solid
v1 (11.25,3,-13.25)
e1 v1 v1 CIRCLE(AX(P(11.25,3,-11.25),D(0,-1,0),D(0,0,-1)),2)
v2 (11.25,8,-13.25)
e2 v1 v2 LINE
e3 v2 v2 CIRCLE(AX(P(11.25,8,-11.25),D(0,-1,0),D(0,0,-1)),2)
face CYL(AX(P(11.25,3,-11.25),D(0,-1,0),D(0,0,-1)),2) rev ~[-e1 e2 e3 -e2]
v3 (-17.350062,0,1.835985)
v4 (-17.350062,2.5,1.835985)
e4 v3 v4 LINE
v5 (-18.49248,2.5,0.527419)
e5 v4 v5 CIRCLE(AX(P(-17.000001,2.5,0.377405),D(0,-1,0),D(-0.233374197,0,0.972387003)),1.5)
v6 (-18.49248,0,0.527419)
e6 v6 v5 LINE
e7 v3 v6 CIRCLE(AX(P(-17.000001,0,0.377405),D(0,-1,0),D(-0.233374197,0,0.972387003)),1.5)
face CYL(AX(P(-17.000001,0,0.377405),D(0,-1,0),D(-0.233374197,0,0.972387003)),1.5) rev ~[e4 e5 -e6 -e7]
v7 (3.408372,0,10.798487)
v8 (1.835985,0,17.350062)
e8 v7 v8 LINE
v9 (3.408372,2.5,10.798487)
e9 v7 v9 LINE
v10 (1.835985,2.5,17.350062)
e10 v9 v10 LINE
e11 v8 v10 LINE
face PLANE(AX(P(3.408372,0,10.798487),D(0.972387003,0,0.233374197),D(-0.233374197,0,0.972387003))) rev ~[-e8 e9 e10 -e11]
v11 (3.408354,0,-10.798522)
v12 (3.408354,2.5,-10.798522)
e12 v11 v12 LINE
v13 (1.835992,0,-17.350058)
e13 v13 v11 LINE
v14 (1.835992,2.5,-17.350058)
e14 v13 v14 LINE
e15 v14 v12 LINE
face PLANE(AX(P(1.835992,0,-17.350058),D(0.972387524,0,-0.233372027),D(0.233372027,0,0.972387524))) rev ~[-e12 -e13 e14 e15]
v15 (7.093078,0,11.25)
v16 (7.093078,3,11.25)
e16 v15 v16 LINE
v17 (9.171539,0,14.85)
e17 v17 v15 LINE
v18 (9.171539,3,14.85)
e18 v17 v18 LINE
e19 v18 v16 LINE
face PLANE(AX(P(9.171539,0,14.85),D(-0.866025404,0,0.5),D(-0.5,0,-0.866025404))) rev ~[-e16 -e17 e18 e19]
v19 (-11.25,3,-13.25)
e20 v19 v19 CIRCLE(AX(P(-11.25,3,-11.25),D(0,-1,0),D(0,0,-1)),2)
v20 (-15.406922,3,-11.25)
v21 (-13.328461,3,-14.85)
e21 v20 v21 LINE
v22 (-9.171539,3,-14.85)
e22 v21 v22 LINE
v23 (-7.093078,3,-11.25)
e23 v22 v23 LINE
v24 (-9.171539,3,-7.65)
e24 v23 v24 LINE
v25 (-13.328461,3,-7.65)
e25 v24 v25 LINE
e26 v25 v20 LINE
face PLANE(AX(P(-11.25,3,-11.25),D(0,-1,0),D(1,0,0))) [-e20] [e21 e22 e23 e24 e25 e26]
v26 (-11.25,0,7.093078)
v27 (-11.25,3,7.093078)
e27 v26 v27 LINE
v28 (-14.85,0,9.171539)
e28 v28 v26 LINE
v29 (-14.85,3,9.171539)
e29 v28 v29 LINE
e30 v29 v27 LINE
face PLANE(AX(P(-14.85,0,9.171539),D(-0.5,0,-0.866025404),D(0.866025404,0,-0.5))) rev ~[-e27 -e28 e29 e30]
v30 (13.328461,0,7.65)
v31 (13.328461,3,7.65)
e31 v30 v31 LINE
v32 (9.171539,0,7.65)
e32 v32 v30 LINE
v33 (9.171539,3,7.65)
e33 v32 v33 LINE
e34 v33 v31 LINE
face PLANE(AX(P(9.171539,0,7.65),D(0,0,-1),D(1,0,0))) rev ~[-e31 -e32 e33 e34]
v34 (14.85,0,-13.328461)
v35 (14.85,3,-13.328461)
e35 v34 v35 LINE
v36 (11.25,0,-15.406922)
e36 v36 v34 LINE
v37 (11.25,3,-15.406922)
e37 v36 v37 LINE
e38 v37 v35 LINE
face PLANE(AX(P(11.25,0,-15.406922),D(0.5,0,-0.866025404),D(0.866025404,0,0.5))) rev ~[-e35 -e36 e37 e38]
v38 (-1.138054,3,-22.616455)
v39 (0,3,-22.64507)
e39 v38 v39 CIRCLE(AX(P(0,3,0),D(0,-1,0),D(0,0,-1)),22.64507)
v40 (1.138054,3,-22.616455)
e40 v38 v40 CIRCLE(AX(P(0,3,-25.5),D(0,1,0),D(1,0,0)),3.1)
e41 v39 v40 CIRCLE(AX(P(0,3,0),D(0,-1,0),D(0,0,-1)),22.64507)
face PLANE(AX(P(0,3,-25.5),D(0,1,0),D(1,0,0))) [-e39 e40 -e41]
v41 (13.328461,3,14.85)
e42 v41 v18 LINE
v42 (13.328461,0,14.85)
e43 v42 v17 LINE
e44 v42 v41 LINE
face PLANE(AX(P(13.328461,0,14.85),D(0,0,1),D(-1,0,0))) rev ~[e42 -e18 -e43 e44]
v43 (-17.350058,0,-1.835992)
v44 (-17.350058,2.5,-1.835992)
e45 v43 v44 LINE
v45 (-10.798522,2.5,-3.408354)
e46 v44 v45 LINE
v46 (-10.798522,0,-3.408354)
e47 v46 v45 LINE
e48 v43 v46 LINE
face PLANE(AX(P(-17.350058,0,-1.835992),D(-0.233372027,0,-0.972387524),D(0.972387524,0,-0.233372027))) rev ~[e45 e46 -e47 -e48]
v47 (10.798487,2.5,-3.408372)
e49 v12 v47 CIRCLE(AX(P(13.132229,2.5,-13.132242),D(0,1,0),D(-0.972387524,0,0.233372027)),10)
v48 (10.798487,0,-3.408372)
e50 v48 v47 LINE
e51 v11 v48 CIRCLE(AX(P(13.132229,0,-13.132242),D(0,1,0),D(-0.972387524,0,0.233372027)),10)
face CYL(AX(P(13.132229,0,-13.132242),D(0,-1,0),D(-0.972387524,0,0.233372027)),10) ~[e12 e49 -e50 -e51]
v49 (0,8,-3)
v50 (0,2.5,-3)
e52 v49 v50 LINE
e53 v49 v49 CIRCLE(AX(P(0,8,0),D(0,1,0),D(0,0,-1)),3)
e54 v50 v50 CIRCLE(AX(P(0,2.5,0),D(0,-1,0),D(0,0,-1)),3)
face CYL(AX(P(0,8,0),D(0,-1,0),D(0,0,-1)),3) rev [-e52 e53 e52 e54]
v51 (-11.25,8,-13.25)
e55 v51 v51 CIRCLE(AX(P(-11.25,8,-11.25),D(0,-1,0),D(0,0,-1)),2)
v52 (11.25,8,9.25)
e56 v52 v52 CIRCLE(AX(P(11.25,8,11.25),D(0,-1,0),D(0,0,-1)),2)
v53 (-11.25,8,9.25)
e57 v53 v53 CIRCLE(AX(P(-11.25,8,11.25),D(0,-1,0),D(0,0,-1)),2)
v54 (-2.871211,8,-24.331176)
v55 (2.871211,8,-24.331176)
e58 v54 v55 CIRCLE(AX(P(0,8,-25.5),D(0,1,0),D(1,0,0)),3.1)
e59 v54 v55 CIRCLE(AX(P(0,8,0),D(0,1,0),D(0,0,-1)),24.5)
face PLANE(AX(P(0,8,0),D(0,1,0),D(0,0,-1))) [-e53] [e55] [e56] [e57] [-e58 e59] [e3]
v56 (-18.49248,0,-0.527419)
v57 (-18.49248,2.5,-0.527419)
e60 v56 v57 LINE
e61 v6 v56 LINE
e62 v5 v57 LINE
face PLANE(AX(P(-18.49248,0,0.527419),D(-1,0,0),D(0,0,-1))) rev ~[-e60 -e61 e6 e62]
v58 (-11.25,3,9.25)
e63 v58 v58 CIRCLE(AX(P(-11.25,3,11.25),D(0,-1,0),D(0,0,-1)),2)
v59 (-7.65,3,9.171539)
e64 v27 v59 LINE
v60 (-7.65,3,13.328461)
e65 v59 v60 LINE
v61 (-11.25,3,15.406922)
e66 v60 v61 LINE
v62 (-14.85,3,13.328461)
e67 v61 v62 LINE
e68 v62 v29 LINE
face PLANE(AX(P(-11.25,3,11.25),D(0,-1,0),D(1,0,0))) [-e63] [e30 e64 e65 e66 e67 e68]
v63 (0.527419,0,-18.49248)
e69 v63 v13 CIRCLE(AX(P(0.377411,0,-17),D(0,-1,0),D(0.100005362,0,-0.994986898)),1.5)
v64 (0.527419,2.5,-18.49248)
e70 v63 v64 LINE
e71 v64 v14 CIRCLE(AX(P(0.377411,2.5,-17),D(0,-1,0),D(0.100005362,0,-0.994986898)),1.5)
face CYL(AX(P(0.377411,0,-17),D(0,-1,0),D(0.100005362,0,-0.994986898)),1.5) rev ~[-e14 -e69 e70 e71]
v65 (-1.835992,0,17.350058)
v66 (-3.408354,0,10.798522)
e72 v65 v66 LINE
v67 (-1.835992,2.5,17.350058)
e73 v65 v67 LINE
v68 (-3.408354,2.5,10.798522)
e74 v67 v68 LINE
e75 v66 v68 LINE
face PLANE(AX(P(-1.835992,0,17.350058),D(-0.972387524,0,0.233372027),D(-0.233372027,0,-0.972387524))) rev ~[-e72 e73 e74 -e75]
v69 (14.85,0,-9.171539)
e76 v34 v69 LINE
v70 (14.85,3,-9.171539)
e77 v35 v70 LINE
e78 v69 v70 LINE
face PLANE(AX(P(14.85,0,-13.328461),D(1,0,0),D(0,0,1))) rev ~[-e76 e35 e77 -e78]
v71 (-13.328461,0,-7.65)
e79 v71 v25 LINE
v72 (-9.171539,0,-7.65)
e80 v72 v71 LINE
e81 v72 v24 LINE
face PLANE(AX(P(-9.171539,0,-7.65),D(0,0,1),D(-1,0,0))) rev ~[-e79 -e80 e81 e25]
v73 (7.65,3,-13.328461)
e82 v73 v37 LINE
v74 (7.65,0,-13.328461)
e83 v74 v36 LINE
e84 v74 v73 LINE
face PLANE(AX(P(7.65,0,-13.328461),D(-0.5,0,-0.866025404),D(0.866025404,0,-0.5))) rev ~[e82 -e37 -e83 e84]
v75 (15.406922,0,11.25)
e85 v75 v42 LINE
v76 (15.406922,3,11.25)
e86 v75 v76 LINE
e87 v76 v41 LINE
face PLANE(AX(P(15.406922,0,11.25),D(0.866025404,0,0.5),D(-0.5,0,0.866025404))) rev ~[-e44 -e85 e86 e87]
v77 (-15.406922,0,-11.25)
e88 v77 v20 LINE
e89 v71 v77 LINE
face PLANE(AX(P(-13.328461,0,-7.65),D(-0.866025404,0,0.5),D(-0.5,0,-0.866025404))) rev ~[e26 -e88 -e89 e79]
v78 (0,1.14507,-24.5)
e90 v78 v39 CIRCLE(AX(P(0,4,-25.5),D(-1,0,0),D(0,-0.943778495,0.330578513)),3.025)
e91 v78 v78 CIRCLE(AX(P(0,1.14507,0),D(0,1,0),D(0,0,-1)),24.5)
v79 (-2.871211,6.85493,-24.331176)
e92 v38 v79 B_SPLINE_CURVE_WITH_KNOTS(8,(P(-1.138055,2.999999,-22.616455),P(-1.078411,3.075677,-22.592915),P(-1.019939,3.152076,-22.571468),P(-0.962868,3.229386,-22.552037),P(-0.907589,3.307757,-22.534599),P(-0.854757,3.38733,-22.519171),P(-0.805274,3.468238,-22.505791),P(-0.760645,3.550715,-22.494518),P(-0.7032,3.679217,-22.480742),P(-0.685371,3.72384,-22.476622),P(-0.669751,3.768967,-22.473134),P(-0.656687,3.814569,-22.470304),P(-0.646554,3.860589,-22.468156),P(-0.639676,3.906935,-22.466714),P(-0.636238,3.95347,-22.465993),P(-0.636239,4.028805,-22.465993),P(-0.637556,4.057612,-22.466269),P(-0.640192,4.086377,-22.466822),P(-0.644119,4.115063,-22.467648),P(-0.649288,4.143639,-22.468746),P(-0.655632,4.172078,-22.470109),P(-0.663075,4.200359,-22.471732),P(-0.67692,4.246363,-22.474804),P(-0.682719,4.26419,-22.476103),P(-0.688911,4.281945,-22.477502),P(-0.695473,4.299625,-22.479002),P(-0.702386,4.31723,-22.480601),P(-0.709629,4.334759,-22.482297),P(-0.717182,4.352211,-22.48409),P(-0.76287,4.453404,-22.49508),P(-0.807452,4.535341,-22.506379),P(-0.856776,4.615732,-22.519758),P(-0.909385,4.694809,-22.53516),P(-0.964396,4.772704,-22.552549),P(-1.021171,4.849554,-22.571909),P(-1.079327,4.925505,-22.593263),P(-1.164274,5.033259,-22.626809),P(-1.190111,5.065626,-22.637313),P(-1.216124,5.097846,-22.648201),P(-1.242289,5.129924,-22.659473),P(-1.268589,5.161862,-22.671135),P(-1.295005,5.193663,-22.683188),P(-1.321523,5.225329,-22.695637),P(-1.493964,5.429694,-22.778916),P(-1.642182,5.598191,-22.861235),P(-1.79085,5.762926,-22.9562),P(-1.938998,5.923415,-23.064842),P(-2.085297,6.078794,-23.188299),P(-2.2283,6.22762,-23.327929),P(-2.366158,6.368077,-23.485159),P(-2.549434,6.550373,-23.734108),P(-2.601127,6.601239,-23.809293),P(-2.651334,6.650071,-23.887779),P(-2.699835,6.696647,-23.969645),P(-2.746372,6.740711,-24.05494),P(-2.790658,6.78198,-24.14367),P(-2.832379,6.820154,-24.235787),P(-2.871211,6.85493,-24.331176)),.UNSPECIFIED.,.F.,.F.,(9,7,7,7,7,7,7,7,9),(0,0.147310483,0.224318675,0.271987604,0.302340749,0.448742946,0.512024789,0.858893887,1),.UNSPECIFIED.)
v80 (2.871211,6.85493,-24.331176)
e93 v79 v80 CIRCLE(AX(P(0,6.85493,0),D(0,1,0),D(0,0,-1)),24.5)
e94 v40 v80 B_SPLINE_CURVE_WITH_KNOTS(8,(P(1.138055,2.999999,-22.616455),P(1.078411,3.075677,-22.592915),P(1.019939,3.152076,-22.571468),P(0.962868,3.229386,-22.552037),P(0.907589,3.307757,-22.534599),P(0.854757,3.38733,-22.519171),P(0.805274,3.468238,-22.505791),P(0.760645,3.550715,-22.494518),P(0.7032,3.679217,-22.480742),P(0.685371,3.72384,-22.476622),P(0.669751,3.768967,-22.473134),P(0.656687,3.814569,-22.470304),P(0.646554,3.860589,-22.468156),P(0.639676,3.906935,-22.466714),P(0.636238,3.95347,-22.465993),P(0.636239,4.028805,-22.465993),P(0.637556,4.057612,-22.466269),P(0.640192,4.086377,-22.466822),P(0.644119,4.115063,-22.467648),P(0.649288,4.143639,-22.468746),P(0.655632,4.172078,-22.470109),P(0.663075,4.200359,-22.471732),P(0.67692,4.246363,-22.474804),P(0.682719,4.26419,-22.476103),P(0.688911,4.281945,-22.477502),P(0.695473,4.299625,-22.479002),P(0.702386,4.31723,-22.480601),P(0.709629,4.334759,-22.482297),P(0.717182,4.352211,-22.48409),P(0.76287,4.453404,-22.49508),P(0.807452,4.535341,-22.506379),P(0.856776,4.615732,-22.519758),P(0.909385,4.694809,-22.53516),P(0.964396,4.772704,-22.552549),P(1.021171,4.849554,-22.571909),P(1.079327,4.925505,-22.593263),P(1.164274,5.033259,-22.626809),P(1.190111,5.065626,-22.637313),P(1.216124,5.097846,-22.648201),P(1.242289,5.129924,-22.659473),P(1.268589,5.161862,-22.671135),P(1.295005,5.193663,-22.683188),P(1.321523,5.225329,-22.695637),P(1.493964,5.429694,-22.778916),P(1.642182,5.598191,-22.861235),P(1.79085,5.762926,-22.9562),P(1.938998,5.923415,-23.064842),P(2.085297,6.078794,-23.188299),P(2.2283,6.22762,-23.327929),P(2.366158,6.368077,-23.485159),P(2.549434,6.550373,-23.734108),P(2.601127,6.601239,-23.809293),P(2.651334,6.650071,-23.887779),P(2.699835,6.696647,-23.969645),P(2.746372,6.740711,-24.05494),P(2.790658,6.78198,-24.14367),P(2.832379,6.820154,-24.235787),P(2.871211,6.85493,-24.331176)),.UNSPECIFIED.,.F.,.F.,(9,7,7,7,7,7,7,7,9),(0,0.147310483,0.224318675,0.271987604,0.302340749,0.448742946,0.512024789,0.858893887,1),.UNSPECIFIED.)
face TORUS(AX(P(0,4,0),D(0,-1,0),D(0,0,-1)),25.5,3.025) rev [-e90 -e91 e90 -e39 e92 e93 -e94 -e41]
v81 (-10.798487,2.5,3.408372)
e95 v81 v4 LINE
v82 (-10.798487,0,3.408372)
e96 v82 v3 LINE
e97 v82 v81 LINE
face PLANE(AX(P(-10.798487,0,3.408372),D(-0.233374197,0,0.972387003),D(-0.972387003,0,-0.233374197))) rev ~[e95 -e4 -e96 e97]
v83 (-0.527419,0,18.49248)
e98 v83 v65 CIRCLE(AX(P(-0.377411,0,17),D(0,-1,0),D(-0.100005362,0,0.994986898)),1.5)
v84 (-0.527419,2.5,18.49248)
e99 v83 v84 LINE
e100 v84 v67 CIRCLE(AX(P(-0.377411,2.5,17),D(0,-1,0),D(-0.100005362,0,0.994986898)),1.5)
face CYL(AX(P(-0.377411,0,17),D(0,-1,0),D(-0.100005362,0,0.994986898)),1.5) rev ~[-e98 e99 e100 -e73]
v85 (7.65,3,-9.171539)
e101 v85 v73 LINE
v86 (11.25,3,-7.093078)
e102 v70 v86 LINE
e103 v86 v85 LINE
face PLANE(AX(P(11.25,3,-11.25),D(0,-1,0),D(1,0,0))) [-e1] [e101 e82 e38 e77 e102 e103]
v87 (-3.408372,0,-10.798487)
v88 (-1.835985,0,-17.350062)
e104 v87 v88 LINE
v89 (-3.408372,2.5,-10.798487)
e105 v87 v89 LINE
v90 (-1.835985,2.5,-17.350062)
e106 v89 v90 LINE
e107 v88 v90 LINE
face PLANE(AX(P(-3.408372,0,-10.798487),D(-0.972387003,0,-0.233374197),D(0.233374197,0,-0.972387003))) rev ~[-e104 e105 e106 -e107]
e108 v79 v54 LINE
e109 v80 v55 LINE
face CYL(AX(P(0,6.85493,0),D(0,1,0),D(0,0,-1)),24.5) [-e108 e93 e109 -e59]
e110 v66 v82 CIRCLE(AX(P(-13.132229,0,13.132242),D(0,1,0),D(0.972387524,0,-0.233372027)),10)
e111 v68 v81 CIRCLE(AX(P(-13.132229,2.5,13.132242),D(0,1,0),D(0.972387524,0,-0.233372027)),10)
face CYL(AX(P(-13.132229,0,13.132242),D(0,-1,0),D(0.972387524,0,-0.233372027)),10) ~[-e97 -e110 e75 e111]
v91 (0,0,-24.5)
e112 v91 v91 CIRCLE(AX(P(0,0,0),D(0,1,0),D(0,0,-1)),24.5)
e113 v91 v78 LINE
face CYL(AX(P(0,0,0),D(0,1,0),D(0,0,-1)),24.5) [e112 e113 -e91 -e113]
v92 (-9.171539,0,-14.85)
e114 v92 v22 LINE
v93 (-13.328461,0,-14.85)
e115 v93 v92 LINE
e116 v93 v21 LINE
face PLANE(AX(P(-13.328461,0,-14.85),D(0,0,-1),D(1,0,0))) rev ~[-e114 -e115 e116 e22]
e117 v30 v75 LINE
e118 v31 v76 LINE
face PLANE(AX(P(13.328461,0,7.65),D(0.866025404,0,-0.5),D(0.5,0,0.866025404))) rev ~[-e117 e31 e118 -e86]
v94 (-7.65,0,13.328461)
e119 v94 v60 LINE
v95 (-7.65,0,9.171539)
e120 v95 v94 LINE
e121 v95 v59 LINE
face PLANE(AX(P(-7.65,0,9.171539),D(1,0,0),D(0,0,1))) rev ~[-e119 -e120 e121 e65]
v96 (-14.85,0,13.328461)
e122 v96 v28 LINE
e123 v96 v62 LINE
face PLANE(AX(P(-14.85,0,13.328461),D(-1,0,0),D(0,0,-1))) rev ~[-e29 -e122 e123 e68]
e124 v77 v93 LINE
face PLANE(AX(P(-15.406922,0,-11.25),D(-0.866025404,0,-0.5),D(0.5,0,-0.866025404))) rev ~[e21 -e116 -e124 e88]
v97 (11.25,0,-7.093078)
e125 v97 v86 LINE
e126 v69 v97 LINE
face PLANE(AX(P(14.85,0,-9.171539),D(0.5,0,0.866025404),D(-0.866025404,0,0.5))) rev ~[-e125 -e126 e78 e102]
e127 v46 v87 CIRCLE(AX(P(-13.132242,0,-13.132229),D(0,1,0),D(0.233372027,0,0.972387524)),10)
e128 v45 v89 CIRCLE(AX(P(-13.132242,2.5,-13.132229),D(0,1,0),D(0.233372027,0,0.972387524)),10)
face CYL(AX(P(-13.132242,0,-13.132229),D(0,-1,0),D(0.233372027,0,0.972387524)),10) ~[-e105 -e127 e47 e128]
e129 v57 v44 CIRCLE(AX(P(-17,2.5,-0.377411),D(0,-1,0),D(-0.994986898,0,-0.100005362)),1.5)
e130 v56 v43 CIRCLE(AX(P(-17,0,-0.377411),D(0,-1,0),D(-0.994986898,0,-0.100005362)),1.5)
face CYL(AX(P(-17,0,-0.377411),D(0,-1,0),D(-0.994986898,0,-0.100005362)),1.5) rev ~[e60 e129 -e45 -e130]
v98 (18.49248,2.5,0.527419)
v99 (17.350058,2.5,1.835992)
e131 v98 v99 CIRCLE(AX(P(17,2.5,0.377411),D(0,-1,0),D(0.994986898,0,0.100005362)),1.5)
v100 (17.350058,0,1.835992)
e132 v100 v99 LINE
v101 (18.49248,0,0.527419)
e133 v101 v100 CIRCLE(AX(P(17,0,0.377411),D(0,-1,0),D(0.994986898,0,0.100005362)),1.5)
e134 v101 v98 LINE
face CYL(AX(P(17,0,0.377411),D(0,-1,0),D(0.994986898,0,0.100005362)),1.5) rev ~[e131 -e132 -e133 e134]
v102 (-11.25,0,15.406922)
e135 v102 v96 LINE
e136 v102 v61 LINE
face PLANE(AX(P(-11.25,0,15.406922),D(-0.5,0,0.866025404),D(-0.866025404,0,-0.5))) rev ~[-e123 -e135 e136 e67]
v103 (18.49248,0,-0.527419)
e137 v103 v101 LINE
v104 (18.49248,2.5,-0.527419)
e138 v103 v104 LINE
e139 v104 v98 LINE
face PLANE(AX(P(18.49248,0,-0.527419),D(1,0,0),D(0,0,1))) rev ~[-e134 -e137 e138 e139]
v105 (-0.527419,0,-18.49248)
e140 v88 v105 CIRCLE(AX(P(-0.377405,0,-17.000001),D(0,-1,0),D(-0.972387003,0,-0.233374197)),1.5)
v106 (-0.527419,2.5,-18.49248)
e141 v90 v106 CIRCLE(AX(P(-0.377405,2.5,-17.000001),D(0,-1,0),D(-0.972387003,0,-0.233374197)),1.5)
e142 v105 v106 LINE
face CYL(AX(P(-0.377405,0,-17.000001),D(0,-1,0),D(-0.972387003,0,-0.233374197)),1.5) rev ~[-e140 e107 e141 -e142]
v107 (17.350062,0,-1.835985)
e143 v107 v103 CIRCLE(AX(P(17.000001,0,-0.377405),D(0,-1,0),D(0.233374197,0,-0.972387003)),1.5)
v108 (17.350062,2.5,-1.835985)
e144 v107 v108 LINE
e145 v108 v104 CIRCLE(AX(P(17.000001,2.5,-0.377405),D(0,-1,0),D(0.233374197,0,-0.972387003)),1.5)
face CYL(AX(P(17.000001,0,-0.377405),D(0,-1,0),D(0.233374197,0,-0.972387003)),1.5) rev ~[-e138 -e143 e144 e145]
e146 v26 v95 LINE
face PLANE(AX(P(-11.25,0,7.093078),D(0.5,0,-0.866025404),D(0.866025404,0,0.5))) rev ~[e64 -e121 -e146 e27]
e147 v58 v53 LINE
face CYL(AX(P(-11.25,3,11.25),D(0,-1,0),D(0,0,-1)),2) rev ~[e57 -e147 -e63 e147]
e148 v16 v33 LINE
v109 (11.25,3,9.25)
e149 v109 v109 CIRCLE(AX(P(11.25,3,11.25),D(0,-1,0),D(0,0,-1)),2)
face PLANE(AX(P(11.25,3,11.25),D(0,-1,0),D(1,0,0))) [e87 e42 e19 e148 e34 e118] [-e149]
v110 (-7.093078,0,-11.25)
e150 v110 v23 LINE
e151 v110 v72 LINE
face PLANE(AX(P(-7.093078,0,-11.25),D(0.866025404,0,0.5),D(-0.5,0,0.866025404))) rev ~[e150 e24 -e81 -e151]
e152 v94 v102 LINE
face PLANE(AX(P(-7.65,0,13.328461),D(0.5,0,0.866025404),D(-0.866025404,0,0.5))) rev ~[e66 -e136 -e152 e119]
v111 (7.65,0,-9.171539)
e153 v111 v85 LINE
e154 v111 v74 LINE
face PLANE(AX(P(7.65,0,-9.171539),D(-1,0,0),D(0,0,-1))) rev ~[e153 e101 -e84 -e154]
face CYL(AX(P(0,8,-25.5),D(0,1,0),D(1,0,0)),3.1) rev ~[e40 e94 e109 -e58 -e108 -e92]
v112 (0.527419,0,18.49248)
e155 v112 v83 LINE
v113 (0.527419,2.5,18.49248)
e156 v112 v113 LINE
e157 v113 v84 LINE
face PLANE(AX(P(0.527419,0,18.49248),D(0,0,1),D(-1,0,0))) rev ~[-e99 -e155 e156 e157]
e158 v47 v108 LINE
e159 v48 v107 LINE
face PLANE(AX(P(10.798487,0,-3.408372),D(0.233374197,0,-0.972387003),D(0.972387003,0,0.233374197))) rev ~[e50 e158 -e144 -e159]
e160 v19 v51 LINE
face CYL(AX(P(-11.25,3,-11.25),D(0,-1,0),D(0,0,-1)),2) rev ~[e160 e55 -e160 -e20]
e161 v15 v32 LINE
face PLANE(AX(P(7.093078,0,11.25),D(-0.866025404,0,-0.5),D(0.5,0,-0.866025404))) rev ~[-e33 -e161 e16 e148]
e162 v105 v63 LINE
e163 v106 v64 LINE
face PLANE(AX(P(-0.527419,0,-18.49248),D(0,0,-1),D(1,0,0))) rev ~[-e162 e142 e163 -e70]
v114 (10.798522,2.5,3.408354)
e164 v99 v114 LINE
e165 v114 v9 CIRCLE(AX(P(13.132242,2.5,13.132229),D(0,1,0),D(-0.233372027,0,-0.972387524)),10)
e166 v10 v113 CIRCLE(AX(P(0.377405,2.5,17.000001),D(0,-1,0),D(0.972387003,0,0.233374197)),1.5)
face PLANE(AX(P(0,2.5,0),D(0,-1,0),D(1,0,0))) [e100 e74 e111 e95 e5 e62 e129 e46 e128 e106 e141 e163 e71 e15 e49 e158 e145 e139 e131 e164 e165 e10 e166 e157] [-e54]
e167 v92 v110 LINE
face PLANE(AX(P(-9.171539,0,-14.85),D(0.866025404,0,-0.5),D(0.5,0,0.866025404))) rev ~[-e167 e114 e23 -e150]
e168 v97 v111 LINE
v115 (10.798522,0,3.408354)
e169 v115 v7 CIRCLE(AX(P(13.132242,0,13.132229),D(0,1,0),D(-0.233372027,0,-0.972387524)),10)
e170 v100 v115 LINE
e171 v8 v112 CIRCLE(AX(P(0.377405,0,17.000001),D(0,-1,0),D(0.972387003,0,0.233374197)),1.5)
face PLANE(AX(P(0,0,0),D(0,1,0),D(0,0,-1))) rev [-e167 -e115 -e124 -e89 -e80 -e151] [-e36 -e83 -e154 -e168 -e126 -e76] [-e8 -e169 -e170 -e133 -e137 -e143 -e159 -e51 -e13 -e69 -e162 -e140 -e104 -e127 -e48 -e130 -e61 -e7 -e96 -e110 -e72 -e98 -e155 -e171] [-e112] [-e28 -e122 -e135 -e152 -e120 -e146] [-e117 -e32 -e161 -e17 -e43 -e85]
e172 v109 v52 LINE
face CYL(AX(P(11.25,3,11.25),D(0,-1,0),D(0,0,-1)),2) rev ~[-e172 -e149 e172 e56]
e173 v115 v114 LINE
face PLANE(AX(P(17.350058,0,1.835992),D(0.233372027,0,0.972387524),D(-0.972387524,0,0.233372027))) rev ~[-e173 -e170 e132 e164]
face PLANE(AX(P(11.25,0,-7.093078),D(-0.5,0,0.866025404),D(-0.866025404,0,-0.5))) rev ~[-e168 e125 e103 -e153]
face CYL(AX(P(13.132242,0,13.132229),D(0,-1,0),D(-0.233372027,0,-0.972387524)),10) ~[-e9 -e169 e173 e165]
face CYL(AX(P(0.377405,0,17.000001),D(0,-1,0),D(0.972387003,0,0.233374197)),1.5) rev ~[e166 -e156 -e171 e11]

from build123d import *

# Parameters (mm, degrees)
CUT_EXTRUDE_1_DEPTH = 2.5
CUT_EXTRUDE_2_DEPTH = 3
SKETCH_6_R          = 2
CUT_EXTRUDE_4_DEPTH = 36.007142128
SKETCH_8_R          = 3.1
CUT_EXTRUDE_6_DEPTH = 5


with BuildPart() as part:
    # 草图2 → 旋转1 (revolve)
    with BuildSketch(Plane.XY, mode=Mode.PRIVATE) as revolve_1_sk:
        with BuildLine():
            Line((20, 8), (3, 8))
            Line((3, 8), (3, 0))
            Line((3, 0), (20, 0))
            Line((20, 0), (24.5, 0))
            Line((24.5, 0), (24.5, 1.06571985))
            Line((24.5, 1.06571985), (24.5, 1.145070053))
            ThreePointArc((24.5, 1.145070053), (22.475, 4), (24.5, 6.854929947))
            Line((24.5, 6.854929947), (24.5, 6.93428015))
            Line((24.5, 6.93428015), (24.5, 8))
            Line((24.5, 8), (20, 8))
        make_face()
    revolve(revolve_1_sk.sketch.rotate(Axis((0, 0, 0), (0, 1, 0)), 90), axis=Axis((0, 0, 0), (0, 1, 0)))

    # 草图3 → 切除-拉伸1 (cut)
    with BuildSketch(Plane.XZ):
        with BuildLine():
            Line((1.835992055, -17.350058041), (3.408354199, -10.798521635))
            ThreePointArc((3.408354199, -10.798521635), (6.061153739, -6.061181984), (10.798487471, -3.408371874))
            Line((10.798487471, -3.408371874), (17.350061912, -1.835985141))
            ThreePointArc((17.350061912, -1.835985141), (18.129967792, -1.363900547), (18.492480347, -0.527418811))
            Line((18.492480347, -0.527418811), (18.492480347, 0.527418811))
            ThreePointArc((18.492480347, 0.527418811), (18.129968102, 1.363905618), (17.350058041, 1.835992055))
            Line((17.350058041, 1.835992055), (10.798521635, 3.408354199))
            ThreePointArc((10.798521635, 3.408354199), (6.061181984, 6.061153739), (3.408371874, 10.798487471))
            Line((3.408371874, 10.798487471), (1.835985141, 17.350061912))
            ThreePointArc((1.835985141, 17.350061912), (1.363900547, 18.129967792), (0.527418811, 18.492480347))
            Line((0.527418811, 18.492480347), (-0.527418811, 18.492480347))
            ThreePointArc((-0.527418811, 18.492480347), (-1.363905618, 18.129968102), (-1.835992055, 17.350058041))
            Line((-1.835992055, 17.350058041), (-3.408354199, 10.798521635))
            ThreePointArc((-3.408354199, 10.798521635), (-6.061153739, 6.061181984), (-10.798487471, 3.408371874))
            Line((-10.798487471, 3.408371874), (-17.350061912, 1.835985141))
            ThreePointArc((-17.350061912, 1.835985141), (-18.129967792, 1.363900547), (-18.492480347, 0.527418811))
            Line((-18.492480347, 0.527418811), (-18.492480347, -0.527418811))
            ThreePointArc((-18.492480347, -0.527418811), (-18.129968102, -1.363905618), (-17.350058041, -1.835992055))
            Line((-17.350058041, -1.835992055), (-10.798521635, -3.408354199))
            ThreePointArc((-10.798521635, -3.408354199), (-6.061181984, -6.061153739), (-3.408371874, -10.798487471))
            Line((-3.408371874, -10.798487471), (-1.835985141, -17.350061912))
            ThreePointArc((-1.835985141, -17.350061912), (-1.363900547, -18.129967792), (-0.527418811, -18.492480347))
            Line((-0.527418811, -18.492480347), (0.527418811, -18.492480347))
            ThreePointArc((0.527418811, -18.492480347), (1.363905618, -18.129968102), (1.835992055, -17.350058041))
        make_face()
    extrude(amount=-CUT_EXTRUDE_1_DEPTH, mode=Mode.SUBTRACT)

    # 草图4 → 切除-拉伸2 (cut)
    with BuildSketch(Plane.XZ):
        Polygon((7.093078062, 11.25), (9.171539031, 7.65), (13.328460969, 7.65), (15.406921938, 11.25), (13.328460969, 14.85), (9.171539031, 14.85), align=None)
        Polygon((-11.25, 7.093078062), (-7.65, 9.171539031), (-7.65, 13.328460969), (-11.25, 15.406921938), (-14.85, 13.328460969), (-14.85, 9.171539031), align=None)
        Polygon((11.25, -7.093078062), (7.65, -9.171539031), (7.65, -13.328460969), (11.25, -15.406921938), (14.85, -13.328460969), (14.85, -9.171539031), align=None)
        Polygon((-7.093078062, -11.25), (-9.171539031, -7.65), (-13.328460969, -7.65), (-15.406921938, -11.25), (-13.328460969, -14.85), (-9.171539031, -14.85), align=None)
    extrude(amount=-CUT_EXTRUDE_2_DEPTH, mode=Mode.SUBTRACT)

    # 草图6 → 切除-拉伸4 (cut, through all)
    with BuildSketch(Plane.XZ.offset(-3)):
        with Locations(Location((-11.25, 11.25, 0), (0, 0, 270))):
            Circle(SKETCH_6_R)
        with Locations(Location((11.25, 11.25, 0), (0, 0, 270))):
            Circle(SKETCH_6_R)
        with Locations(Location((11.25, -11.25, 0), (0, 0, 270))):
            Circle(SKETCH_6_R)
        with Locations(Location((-11.25, -11.25, 0), (0, 0, 270))):
            Circle(SKETCH_6_R)
    extrude(amount=-CUT_EXTRUDE_4_DEPTH, mode=Mode.SUBTRACT)

    # 草图8 → 切除-拉伸6 (cut)
    with BuildSketch(Plane(origin=(0, 8, 0), x_dir=(1, 0, 0), z_dir=(0, 1, 0))):
        with Locations((0, 25.5)):
            Circle(SKETCH_8_R)
    extrude(amount=-CUT_EXTRUDE_6_DEPTH, mode=Mode.SUBTRACT)


solid = part.part
